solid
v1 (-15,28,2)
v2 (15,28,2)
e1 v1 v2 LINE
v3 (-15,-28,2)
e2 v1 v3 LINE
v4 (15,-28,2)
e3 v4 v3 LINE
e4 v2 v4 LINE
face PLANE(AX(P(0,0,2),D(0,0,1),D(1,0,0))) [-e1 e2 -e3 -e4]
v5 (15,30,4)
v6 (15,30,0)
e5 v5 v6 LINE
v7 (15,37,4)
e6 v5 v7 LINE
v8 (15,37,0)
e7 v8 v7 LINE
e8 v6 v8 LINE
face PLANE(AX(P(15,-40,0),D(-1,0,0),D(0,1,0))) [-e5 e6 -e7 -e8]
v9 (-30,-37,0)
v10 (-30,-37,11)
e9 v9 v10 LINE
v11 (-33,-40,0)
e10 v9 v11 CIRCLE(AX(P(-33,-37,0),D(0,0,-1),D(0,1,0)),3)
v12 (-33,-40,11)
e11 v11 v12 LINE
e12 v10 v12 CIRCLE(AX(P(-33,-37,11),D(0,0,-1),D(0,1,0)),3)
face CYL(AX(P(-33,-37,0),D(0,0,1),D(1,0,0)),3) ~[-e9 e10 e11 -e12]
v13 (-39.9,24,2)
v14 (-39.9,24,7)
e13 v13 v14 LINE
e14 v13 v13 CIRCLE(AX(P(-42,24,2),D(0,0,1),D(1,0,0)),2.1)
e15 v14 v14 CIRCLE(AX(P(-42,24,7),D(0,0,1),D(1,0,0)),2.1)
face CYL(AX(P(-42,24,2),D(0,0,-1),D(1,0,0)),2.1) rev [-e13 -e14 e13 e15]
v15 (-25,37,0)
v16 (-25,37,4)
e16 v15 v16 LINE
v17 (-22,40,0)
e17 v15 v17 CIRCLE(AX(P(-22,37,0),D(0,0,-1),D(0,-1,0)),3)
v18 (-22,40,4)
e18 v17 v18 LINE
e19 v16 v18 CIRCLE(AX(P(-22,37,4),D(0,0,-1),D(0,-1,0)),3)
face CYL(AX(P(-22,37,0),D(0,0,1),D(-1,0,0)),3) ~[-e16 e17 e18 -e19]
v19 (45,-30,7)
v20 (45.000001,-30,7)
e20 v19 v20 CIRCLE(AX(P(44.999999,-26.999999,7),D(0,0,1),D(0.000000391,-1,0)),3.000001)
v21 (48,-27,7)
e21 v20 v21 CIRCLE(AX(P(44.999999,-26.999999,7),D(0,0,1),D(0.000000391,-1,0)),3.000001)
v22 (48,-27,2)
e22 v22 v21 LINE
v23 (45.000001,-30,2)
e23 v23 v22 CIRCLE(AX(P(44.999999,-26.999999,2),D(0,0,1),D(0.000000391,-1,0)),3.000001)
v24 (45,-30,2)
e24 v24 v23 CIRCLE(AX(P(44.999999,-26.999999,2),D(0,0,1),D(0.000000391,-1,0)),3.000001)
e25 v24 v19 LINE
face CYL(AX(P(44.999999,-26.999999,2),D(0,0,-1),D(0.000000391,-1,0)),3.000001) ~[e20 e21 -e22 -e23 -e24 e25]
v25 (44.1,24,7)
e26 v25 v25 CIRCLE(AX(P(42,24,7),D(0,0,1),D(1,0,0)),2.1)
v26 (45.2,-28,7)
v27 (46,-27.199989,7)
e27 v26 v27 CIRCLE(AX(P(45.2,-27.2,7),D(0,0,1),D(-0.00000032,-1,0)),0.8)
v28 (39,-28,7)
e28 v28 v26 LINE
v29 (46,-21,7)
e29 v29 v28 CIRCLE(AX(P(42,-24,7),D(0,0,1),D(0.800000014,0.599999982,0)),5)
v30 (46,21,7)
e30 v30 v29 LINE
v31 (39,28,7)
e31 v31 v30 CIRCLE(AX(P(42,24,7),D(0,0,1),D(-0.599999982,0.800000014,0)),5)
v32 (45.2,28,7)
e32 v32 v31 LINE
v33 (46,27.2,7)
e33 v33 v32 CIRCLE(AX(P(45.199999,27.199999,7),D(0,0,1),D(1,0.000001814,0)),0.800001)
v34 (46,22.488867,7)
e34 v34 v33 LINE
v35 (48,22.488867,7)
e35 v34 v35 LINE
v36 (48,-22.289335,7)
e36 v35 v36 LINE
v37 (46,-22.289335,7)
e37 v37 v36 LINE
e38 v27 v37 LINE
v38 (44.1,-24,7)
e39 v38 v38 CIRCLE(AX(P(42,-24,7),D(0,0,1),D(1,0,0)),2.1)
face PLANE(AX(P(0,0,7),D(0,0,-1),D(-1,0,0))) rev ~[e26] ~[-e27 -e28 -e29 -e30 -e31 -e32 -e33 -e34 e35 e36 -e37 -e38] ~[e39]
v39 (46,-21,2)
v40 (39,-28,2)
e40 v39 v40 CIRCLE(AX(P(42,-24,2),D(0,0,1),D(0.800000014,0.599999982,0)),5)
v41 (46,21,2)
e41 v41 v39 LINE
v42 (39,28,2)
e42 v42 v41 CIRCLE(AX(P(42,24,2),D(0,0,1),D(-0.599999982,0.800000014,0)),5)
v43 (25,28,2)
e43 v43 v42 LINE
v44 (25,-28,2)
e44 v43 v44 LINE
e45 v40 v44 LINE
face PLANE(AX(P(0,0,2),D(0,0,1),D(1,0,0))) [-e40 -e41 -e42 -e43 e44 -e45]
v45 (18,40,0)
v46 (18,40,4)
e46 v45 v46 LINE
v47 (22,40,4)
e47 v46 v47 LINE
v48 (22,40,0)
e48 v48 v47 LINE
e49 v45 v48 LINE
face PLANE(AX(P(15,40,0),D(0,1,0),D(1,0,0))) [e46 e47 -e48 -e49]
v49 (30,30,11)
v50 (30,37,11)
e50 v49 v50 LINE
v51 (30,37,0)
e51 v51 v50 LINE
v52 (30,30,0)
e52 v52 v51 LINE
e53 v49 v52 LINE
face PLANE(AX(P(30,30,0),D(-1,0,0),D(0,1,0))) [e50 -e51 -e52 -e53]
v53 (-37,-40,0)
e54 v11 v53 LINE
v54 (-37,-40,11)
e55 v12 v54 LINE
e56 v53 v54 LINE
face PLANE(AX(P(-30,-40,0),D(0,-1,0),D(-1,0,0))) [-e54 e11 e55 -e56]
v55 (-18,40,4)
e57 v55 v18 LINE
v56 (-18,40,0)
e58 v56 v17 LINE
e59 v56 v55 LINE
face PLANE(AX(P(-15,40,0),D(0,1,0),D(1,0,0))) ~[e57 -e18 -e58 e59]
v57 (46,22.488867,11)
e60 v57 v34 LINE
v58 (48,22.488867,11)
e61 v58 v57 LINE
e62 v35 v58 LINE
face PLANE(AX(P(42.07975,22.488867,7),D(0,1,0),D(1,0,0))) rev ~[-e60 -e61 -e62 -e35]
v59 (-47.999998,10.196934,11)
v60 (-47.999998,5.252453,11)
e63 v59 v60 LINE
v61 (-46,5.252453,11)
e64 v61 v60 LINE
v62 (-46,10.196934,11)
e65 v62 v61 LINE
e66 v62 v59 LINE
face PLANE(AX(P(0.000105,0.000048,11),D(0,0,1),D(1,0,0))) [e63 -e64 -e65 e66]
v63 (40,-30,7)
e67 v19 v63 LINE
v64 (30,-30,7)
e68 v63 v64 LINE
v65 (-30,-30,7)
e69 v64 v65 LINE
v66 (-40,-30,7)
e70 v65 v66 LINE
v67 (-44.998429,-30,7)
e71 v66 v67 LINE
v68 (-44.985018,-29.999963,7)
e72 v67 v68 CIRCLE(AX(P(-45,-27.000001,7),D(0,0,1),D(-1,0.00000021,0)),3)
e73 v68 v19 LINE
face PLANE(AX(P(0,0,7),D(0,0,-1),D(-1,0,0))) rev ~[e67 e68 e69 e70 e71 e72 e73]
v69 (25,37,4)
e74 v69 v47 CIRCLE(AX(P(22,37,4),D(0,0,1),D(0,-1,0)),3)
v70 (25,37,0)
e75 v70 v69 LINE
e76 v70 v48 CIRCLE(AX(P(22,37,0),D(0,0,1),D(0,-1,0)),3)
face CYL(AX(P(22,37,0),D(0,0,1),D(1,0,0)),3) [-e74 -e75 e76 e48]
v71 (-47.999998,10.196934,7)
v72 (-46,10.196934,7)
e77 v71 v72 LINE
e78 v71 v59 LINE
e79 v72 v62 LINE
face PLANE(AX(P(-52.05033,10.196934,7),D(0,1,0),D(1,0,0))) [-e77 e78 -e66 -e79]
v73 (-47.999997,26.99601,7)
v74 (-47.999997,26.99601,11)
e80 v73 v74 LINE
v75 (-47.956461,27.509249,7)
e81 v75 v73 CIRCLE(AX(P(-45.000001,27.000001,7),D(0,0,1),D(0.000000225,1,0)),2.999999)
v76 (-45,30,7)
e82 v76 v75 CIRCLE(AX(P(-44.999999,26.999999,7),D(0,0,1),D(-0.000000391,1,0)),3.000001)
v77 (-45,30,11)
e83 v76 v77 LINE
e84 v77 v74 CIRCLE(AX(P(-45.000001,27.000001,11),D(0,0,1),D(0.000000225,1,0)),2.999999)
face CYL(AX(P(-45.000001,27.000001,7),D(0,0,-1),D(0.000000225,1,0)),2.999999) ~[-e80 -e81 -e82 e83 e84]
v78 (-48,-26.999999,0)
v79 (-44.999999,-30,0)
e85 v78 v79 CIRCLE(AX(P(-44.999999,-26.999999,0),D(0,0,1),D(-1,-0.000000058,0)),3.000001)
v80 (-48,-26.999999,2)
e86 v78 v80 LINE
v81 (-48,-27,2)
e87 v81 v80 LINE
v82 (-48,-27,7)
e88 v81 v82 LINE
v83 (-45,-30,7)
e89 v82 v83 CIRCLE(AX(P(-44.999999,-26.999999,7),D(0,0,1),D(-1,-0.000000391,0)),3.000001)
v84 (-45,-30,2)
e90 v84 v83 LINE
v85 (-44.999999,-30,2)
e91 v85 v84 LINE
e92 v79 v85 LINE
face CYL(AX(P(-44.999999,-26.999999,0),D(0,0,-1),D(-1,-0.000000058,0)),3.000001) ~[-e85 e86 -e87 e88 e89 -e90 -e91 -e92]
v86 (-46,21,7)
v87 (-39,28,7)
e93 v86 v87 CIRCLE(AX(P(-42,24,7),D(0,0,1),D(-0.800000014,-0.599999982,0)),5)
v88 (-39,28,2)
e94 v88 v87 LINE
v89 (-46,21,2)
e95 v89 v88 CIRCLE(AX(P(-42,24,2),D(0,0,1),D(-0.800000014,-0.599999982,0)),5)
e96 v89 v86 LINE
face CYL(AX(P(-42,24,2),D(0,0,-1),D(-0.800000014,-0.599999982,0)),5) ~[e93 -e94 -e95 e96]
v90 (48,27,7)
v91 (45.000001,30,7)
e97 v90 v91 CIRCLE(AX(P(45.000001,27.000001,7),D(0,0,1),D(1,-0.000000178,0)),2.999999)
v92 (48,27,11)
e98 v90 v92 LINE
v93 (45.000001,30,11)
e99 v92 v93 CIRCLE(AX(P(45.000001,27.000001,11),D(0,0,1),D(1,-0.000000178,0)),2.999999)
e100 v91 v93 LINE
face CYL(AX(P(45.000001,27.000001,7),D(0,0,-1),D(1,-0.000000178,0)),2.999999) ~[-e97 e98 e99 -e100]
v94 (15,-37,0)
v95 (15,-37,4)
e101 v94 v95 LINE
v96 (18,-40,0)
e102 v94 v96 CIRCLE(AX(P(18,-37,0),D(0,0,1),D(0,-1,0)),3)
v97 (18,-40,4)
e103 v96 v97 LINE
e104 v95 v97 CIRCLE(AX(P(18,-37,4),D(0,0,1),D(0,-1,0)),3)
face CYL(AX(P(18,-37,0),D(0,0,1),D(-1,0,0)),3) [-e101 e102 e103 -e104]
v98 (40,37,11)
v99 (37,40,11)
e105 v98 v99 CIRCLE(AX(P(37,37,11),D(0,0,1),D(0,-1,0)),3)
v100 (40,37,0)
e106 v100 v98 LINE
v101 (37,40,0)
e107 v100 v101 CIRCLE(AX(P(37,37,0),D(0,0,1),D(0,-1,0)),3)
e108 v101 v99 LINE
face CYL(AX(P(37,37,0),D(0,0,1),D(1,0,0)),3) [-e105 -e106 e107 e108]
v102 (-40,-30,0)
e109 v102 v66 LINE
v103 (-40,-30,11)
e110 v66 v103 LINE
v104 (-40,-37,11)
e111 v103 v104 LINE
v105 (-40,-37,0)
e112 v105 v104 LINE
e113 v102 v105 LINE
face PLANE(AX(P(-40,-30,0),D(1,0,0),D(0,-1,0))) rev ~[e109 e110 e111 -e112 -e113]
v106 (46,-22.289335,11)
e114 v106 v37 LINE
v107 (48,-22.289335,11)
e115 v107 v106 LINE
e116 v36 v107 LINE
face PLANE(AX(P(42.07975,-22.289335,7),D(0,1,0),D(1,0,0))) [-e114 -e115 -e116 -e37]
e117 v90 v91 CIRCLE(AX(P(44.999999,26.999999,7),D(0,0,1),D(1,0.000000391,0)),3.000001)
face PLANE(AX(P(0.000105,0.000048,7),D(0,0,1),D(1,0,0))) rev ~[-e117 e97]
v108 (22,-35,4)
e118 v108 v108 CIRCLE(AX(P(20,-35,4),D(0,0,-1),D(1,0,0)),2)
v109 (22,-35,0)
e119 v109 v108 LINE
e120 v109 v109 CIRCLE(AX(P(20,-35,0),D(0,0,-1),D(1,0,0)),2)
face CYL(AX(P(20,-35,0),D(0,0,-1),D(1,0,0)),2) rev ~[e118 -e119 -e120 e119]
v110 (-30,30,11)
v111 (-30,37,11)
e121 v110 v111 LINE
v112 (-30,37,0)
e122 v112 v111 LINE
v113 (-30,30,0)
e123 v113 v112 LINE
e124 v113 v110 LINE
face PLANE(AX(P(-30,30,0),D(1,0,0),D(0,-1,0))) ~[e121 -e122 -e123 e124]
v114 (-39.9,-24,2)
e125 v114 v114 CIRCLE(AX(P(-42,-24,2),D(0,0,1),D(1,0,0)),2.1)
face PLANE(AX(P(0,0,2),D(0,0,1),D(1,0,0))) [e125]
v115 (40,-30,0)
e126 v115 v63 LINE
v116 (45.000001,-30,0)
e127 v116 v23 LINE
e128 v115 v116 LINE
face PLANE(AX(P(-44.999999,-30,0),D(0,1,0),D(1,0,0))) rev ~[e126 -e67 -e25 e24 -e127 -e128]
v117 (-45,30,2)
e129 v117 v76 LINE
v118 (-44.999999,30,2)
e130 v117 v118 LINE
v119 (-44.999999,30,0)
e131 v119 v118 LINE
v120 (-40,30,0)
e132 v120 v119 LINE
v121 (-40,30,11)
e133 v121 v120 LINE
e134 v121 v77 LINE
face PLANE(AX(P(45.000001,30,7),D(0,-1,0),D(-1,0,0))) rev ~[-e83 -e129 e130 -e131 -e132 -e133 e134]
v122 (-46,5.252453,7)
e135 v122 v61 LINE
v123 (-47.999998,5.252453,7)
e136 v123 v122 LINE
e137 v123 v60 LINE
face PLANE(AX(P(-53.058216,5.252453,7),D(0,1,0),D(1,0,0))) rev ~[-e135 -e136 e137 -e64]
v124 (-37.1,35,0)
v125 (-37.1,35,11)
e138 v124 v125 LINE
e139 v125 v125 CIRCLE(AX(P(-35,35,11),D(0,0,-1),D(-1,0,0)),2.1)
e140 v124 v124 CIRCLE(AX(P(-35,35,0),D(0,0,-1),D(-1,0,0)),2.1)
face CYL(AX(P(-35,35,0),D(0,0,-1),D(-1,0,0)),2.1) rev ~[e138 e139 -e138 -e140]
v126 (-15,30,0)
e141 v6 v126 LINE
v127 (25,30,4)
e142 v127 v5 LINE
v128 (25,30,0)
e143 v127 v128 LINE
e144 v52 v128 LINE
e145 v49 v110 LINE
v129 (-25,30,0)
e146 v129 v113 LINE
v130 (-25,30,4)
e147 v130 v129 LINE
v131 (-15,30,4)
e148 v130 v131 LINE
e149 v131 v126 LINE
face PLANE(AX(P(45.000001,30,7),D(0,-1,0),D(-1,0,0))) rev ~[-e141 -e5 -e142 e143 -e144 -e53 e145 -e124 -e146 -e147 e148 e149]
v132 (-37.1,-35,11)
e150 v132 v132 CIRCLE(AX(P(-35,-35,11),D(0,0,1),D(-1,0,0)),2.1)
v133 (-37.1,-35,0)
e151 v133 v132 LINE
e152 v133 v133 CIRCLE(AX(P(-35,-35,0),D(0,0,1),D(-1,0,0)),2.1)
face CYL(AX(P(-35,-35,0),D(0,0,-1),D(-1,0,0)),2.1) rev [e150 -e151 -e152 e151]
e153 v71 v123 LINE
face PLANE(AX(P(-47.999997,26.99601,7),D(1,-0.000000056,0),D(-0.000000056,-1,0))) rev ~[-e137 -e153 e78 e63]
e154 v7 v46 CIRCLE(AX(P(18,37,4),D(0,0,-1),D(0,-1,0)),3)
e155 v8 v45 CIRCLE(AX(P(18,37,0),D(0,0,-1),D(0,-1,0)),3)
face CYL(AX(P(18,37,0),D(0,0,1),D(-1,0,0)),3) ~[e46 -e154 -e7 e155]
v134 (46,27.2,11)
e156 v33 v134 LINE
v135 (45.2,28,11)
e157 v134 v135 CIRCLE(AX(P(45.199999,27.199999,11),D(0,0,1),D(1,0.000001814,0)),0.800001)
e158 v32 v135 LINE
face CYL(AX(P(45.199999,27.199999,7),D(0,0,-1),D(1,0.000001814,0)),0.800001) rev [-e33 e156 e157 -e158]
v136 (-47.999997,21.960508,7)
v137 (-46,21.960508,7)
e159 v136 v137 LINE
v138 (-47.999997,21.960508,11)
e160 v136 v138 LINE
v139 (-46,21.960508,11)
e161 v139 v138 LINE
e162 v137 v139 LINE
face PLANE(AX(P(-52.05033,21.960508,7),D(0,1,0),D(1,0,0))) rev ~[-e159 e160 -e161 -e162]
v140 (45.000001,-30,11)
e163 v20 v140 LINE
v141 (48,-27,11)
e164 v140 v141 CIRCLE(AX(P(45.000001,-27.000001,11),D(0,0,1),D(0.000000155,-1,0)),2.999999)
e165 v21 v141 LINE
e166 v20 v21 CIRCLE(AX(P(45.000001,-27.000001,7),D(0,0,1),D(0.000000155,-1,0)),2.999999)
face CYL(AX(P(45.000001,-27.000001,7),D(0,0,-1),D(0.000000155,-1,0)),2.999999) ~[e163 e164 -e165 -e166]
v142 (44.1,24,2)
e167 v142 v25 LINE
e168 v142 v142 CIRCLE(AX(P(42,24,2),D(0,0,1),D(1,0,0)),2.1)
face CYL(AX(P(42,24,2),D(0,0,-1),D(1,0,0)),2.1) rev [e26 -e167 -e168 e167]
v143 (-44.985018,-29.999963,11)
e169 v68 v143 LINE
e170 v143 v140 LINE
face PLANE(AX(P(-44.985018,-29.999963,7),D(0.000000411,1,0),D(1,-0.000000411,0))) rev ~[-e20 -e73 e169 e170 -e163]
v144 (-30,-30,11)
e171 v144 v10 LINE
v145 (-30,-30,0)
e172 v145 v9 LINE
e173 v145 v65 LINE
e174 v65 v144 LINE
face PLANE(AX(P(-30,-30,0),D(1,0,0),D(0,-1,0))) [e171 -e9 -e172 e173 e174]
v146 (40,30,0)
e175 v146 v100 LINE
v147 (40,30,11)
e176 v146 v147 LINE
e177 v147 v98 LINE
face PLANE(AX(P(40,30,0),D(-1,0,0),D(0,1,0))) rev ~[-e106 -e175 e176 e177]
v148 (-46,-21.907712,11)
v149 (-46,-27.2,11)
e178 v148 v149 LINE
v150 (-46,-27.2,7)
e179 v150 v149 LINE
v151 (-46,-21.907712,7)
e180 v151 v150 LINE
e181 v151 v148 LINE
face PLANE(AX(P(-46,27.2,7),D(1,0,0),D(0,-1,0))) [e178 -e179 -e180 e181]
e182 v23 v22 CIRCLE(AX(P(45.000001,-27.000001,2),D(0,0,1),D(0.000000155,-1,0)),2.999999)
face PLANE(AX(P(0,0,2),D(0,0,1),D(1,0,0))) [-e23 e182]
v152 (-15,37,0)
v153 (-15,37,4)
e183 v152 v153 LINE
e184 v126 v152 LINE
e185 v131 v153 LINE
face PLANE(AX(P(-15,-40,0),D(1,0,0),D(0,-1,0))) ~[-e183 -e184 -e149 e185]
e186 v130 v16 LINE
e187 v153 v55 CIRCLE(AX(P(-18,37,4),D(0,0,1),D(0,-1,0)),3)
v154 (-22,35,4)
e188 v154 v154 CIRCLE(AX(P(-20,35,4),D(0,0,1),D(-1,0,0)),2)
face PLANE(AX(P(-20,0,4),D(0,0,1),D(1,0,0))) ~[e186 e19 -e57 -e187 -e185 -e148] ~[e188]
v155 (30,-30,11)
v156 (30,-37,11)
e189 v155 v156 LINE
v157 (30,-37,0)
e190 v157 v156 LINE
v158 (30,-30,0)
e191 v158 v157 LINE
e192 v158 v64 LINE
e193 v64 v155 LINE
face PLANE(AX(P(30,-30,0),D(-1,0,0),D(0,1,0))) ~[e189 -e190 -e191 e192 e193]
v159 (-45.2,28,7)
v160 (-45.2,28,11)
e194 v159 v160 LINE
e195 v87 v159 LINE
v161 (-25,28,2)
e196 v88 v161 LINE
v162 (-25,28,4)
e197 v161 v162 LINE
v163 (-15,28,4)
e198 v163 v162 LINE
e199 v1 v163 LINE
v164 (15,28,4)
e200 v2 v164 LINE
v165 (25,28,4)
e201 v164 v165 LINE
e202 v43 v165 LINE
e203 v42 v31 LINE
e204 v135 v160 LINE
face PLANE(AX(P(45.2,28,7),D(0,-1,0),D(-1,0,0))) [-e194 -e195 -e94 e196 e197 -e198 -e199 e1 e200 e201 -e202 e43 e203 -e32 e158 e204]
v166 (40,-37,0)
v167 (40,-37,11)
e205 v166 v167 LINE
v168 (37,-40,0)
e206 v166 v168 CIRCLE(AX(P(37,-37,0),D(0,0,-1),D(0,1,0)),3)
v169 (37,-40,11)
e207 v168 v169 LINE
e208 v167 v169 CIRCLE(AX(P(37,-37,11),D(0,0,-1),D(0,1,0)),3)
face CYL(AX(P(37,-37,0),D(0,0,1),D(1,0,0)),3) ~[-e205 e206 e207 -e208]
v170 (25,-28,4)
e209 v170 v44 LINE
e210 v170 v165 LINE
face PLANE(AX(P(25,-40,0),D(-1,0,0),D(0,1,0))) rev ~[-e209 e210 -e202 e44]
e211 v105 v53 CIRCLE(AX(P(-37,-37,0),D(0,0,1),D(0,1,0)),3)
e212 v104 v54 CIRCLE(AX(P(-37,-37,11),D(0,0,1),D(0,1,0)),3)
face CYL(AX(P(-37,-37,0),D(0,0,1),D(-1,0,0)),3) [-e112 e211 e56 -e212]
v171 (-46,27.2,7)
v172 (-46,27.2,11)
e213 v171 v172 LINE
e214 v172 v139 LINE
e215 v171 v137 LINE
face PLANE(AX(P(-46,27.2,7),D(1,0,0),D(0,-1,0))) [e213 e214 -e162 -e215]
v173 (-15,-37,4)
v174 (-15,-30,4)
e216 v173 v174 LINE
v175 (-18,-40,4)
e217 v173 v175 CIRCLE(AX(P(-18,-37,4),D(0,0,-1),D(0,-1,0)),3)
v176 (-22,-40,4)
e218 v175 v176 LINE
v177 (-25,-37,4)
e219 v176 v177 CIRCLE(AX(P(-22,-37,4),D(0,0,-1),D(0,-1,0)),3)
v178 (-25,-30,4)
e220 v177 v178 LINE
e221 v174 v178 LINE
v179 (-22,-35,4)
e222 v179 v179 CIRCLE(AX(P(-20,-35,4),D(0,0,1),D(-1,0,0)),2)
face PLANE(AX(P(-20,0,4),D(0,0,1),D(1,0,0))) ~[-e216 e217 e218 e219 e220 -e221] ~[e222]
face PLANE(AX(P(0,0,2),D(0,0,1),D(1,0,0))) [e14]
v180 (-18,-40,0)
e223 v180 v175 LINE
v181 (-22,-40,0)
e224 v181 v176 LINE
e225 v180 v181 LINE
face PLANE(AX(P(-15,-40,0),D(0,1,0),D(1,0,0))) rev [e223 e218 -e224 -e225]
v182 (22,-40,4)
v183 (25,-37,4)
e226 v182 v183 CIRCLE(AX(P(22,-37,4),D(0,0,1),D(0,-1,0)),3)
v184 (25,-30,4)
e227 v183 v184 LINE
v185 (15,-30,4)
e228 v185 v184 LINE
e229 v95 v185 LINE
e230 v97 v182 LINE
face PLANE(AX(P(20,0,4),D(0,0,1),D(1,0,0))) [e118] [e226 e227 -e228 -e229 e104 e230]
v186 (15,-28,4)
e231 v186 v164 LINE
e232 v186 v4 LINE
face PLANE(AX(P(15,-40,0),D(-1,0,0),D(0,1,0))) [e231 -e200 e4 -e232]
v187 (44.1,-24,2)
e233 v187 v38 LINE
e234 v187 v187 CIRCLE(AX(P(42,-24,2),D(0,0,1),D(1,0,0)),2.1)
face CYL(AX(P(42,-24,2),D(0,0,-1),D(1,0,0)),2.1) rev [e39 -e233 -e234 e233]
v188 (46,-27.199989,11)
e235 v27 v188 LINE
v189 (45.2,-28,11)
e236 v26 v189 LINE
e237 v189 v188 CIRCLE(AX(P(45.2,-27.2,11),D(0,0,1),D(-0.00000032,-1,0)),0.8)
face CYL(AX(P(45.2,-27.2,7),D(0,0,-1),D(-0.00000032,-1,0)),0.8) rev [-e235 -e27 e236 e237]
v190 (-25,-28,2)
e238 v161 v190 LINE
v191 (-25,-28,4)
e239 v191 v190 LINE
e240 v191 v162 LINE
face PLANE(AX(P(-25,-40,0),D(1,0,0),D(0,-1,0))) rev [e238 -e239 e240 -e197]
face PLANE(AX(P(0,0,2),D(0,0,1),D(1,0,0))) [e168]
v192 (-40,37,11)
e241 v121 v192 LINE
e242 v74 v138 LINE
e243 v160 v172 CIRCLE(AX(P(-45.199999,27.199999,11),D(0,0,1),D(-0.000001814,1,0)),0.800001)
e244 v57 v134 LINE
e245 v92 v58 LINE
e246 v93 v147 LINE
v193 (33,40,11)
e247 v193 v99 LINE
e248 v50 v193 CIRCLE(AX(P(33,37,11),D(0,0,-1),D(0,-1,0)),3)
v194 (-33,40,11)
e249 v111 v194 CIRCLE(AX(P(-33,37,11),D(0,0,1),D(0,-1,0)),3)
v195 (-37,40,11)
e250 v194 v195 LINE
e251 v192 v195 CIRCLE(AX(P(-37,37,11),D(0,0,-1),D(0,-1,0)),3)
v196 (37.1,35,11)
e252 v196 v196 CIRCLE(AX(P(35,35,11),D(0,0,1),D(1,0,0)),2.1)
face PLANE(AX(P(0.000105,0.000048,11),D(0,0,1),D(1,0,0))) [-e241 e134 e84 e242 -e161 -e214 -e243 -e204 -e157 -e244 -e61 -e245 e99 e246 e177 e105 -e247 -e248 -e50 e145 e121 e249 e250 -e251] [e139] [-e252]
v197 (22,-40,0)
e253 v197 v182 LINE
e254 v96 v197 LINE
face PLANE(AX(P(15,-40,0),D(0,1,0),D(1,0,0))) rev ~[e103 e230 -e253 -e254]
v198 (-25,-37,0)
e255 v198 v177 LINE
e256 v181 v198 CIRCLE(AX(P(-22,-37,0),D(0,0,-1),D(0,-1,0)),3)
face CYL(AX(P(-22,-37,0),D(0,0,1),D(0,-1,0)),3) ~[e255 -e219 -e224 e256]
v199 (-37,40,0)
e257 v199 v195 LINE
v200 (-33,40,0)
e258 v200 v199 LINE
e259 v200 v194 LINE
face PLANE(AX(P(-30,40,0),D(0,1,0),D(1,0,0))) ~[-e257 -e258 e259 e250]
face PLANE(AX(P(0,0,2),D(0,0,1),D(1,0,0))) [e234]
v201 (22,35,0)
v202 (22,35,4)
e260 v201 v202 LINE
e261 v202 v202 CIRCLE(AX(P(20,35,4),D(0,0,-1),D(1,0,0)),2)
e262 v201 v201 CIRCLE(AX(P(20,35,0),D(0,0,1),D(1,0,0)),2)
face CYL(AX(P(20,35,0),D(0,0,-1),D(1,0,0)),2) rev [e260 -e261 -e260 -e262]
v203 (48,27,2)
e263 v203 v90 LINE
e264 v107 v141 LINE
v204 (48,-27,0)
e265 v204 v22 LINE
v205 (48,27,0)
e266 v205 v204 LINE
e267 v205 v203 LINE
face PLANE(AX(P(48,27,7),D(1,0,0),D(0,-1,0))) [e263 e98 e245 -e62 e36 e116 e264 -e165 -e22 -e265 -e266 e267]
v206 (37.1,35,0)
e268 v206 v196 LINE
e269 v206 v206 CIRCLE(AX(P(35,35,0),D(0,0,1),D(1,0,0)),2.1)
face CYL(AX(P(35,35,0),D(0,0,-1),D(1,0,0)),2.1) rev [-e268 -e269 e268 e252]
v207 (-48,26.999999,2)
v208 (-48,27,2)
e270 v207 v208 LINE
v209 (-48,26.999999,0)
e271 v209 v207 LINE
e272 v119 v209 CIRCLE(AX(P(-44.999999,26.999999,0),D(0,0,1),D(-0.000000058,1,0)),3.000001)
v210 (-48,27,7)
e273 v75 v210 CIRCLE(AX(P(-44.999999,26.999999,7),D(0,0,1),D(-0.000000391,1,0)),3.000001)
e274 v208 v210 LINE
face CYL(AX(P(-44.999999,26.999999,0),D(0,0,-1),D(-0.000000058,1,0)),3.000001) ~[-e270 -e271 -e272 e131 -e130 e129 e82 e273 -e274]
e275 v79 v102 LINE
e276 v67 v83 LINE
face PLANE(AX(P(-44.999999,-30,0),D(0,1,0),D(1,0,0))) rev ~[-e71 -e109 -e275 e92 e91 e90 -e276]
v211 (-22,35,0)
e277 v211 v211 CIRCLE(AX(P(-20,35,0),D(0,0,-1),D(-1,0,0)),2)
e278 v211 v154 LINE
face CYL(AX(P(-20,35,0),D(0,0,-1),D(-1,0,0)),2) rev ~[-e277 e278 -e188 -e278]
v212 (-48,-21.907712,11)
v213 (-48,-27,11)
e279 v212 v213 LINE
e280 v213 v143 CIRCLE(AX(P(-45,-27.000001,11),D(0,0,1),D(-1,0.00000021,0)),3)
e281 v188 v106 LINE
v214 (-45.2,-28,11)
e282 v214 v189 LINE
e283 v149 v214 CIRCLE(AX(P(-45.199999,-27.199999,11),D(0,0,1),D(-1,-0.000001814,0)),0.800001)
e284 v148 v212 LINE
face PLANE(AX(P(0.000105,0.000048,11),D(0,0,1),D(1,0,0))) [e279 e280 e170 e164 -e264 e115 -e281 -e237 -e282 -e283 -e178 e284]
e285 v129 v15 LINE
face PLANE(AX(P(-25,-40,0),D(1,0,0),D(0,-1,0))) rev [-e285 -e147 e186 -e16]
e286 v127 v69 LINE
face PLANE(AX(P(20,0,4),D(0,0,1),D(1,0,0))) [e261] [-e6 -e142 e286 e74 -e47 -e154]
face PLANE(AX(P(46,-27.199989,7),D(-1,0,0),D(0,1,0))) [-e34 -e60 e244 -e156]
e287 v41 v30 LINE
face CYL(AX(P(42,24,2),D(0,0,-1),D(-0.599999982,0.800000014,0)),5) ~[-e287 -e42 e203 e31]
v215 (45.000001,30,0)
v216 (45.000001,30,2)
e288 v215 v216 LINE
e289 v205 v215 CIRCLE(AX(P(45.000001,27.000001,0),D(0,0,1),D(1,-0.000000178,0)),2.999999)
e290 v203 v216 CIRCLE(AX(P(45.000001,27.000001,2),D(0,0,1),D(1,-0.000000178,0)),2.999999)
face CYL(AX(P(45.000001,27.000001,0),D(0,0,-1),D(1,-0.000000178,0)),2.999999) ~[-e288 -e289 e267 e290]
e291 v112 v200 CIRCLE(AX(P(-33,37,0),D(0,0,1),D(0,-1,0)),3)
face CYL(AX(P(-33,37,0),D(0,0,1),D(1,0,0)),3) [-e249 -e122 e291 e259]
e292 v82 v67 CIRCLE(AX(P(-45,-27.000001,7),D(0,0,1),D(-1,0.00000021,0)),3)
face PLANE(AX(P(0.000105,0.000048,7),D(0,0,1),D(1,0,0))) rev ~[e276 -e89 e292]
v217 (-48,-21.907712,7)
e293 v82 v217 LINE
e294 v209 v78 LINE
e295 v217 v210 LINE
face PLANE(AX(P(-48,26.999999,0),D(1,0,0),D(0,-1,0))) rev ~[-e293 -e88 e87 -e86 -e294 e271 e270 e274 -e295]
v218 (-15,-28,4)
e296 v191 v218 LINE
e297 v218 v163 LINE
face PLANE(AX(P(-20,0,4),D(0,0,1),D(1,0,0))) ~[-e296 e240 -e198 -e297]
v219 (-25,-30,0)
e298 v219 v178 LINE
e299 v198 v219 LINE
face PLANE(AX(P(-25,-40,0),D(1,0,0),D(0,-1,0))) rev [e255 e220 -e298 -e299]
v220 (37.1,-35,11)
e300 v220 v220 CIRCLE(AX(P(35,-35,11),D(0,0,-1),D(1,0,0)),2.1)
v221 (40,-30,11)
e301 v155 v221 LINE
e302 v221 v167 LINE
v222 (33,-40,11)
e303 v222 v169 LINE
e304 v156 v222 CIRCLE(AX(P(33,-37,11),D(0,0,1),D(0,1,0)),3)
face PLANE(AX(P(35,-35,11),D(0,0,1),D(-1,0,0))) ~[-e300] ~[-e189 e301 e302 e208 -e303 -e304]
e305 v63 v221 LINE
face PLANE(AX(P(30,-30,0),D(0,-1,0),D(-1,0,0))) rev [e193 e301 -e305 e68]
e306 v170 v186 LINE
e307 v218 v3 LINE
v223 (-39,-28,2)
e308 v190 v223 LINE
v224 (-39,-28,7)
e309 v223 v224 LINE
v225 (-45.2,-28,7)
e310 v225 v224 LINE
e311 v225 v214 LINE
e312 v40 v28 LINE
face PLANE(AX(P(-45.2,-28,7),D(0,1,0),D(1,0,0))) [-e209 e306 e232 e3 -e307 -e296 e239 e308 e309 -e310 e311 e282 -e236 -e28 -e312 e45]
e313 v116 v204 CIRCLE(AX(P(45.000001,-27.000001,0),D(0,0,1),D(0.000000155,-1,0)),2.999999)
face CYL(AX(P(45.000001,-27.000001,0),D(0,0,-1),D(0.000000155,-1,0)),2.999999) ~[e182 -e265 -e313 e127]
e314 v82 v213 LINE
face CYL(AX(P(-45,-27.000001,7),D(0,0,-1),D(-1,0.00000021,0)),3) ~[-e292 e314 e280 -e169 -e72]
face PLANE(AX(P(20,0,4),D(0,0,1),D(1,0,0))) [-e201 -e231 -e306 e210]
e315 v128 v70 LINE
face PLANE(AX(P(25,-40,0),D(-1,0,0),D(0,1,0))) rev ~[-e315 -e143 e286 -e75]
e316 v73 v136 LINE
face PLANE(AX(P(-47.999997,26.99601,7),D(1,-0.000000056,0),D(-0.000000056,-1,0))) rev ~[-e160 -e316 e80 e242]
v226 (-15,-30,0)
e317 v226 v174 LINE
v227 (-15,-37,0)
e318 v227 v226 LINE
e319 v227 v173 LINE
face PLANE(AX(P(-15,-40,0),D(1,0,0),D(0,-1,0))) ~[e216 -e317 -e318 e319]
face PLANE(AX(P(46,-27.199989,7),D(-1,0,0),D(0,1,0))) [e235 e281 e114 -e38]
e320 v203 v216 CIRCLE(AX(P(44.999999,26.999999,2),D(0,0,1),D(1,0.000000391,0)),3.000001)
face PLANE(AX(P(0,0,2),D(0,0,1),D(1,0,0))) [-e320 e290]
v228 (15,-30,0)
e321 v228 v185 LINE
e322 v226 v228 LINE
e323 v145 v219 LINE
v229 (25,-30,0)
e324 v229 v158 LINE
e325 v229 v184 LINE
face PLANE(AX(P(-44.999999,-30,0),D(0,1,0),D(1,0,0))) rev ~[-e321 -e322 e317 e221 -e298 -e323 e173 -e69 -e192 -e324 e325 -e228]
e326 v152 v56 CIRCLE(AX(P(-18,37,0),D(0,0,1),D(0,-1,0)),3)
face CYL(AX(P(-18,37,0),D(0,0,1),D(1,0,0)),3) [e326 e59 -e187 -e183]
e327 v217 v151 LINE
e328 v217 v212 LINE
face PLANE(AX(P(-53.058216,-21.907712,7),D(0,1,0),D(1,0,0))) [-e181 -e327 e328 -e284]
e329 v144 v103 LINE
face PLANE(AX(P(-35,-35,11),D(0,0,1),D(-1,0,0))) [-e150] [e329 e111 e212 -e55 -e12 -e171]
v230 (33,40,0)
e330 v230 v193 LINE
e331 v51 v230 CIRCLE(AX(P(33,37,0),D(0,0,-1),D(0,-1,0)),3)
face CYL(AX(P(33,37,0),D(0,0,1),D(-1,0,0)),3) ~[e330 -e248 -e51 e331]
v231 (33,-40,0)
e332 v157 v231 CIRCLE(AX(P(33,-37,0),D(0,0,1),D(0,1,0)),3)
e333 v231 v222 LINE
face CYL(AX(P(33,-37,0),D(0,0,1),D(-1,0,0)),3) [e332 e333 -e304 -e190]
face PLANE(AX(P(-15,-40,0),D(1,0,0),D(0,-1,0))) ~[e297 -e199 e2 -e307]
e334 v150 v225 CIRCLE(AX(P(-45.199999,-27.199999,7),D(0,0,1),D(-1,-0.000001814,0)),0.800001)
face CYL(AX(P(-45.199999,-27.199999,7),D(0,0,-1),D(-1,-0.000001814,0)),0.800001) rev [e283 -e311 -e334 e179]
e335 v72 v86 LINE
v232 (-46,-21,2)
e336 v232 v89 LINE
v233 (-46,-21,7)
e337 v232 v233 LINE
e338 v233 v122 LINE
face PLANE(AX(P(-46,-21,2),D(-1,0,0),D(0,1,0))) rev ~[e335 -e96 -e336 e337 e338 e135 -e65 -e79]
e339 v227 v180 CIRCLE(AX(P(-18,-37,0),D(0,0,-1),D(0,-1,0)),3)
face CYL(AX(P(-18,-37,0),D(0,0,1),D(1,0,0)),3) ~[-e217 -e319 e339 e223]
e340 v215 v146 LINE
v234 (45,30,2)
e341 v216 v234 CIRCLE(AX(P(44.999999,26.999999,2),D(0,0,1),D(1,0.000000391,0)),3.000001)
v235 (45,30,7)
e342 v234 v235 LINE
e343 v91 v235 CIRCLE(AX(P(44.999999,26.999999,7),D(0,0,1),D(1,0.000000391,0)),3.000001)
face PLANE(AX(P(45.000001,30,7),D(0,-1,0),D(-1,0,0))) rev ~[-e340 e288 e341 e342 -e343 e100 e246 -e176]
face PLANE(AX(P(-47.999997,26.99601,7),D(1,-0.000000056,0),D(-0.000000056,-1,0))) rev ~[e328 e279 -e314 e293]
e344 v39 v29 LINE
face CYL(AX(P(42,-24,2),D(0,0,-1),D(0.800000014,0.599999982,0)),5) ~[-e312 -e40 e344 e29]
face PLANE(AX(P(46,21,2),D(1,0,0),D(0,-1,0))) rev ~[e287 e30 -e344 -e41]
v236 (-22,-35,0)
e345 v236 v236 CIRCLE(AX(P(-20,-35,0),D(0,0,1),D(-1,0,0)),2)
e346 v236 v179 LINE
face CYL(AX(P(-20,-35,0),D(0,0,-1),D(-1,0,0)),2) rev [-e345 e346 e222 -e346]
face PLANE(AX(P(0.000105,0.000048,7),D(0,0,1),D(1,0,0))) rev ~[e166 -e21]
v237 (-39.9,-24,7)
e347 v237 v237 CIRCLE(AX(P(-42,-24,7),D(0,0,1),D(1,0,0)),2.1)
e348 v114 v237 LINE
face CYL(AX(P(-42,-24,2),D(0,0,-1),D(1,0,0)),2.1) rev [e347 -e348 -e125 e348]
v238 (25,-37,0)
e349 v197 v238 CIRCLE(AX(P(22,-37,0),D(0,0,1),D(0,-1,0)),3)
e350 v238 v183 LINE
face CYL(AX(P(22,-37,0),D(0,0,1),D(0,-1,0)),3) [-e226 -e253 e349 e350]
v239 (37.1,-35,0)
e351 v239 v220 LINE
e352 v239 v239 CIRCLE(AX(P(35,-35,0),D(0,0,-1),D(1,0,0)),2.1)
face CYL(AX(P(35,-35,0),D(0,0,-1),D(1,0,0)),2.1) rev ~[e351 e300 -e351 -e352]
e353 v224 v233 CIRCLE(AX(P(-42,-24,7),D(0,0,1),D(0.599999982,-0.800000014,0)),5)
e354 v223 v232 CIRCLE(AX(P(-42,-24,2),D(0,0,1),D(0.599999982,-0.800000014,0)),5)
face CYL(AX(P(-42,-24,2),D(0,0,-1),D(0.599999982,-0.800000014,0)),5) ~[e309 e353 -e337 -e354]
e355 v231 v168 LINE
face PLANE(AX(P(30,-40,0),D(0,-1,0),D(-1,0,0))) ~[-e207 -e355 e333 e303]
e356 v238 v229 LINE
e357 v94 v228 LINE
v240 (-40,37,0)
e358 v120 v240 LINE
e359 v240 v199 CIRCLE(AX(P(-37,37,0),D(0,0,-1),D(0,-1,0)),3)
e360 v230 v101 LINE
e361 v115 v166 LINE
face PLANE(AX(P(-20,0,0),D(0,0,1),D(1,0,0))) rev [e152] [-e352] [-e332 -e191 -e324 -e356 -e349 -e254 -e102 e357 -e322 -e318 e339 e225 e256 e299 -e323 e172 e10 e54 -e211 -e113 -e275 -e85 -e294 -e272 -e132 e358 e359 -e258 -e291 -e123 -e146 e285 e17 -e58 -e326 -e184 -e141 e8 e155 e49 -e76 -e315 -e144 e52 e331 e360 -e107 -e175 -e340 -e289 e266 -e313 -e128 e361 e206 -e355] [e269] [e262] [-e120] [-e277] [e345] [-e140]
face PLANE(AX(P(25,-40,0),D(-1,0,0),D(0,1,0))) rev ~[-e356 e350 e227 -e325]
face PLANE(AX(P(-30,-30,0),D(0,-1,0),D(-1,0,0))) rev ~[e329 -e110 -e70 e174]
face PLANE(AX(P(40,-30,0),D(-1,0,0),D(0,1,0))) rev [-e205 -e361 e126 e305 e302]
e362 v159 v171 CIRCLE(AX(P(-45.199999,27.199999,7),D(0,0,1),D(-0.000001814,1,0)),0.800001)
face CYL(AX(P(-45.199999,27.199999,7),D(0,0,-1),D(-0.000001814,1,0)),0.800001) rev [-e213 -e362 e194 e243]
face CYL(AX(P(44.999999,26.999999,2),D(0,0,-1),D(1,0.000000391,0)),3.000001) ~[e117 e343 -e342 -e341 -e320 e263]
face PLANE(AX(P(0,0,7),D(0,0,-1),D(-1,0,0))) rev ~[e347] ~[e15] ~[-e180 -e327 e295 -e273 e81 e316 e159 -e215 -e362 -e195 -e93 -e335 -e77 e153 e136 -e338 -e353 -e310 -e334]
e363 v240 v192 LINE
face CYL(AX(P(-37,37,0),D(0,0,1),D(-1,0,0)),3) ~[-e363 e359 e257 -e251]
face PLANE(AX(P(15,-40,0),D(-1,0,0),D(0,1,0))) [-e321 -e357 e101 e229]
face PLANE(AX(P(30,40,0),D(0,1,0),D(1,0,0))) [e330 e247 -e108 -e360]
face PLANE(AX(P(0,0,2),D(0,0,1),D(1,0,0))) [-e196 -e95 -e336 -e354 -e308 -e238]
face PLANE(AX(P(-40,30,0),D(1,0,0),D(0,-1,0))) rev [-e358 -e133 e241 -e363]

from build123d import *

# Parameters (mm, degrees)
EXTRUDE001_DEPTH  = 2
CYLINDER001_R     = 2.1
CYLINDER001_DEPTH = 11
BOX001_W          = 10
BOX001_H          = 10
BOX001_DEPTH      = 11
FILLET001_R       = 3
CYLINDER_R        = 2
CYLINDER_DEPTH    = 10
BOX_W             = 10
BOX_H             = 80
BOX_DEPTH         = 4
FILLET_R          = 3
SKETCH003_W       = 9.77459
SKETCH003_H       = 44.778202
SKETCH003_W_2     = 16.775318
SKETCH003_H_2     = 11.763574
SKETCH003_W_3     = 22.095015
SKETCH003_H_3     = 27.160165
EXTRUDE003_DEPTH  = 10
EXTRUDE002_DEPTH  = 4
SKETCH_R          = 2.1
EXTRUDE_DEPTH     = 5


with BuildPart() as extrude001:
    # Sketch001 → Extrude001 (new body)
    with BuildSketch(Plane.XY):
        with BuildLine():
            Line((-48, 26.999999), (-48, -26.999999))
            ThreePointArc((-48, -26.999999), (-47.12132, -29.12132), (-44.999999, -30))
            Line((-44.999999, -30), (45.000001, -30))
            ThreePointArc((45.000001, -30), (47.121321, -29.12132), (48, -27))
            Line((48, 27), (48, -27))
            ThreePointArc((48, 27), (47.121321, 29.12132), (45.000001, 30))
            Line((45.000001, 30), (-44.999999, 30))
            ThreePointArc((-44.999999, 30), (-47.12132, 29.12132), (-48, 26.999999))
        make_face()
    extrude(amount=EXTRUDE001_DEPTH)


with BuildPart() as insert_hole:
    # Cylinder001 → Cylinder001 (new body)
    with BuildSketch(Plane.XY):
        Circle(CYLINDER001_R)
    extrude(amount=CYLINDER001_DEPTH)


with BuildPart() as compound:
    # Box001 → Box001 (new body)
    with BuildSketch(Plane(origin=(-5, -5, 0), x_dir=(1, 0, 0), z_dir=(0, 0, 1))):
        with Locations((5, 5)):
            Rectangle(BOX001_W, BOX001_H)
    extrude(amount=BOX001_DEPTH)

    # Fillet001
    fillet001_edges = [compound.edges().sort_by_distance(p)[0] for p in [
        (-5, 5, 5.5),
        (5, 5, 5.5),
    ]]
    fillet(fillet001_edges, radius=FILLET001_R)

    # Cut001: cut insert hole
    add(insert_hole.part, mode=Mode.SUBTRACT)


with BuildPart() as compound_1:
    # Compound placement: moved
    add(compound.part.moved(Location((0, 35, 0))))


with BuildPart() as fusion001:
    # Part__Mirroring002: instance of Compound
    add(compound_1.part.mirror(Plane(origin=(0, 0, 0), x_dir=(1, 0, 0), z_dir=(0, 1, 0))))

    # Fusion001: union Compound
    add(compound_1.part)


with BuildPart() as fusion001_1:
    # Fusion001 placement: moved
    add(fusion001.part.moved(Location((35, 0, 0))))


with BuildPart() as part_mirroring003:
    # Part__Mirroring003: instance of Fusion001
    add(fusion001_1.part.mirror(Plane(origin=(0, 0, 0), x_dir=(0, -1, 0), z_dir=(1, 0, 0))))


with BuildPart() as insert_hole_fusion:
    # Fusion002 base: copy of Fusion001
    add(fusion001_1.part)

    # Fusion002: union Part__Mirroring003
    add(part_mirroring003.part)


with BuildPart() as bolt_hole:
    # Cylinder → Cylinder (new body)
    with BuildSketch(Plane(origin=(0, 35, 0), x_dir=(1, 0, 0), z_dir=(0, 0, 1))):
        Circle(CYLINDER_R)
    extrude(amount=CYLINDER_DEPTH)


with BuildPart() as hole_fusion:
    # Part__Mirroring: instance of bolt hole
    add(bolt_hole.part.mirror(Plane(origin=(0, 0, 0), x_dir=(1, 0, 0), z_dir=(0, 1, 0))))

    # Fusion: union bolt hole
    add(bolt_hole.part)


with BuildPart() as bolt_plate_cut:
    # Box → Box (new body)
    with BuildSketch(Plane(origin=(-5, -40, 0), x_dir=(1, 0, 0), z_dir=(0, 0, 1))):
        with Locations((5, 40)):
            Rectangle(BOX_W, BOX_H)
    extrude(amount=BOX_DEPTH)

    # Fillet
    fillet_edges = [bolt_plate_cut.edges().sort_by_distance(p)[0] for p in [
        (-5, -40, 2),
        (-5, 40, 2),
        (5, -40, 2),
        (5, 40, 2),
    ]]
    fillet(fillet_edges, radius=FILLET_R)

    # Cut: cut hole fusion
    add(hole_fusion.part, mode=Mode.SUBTRACT)


with BuildPart() as bolt_plate_cut_1:
    # Cut placement: moved
    add(bolt_plate_cut.part.moved(Location((20, 0, 0))))


with BuildPart() as part_mirroring001:
    # Part__Mirroring001: instance of bolt plate cut
    add(bolt_plate_cut_1.part.mirror(Plane(origin=(0, 0, 0), x_dir=(0, -1, 0), z_dir=(1, 0, 0))))


with BuildPart() as bole_plates_fusion:
    # Fusion003 base: copy of bolt plate cut
    add(bolt_plate_cut_1.part)

    # Fusion003: union Part__Mirroring001
    add(part_mirroring001.part)


with BuildPart() as holes_extrude003:
    # Sketch003 → Extrude003 (new body)
    with BuildSketch(Plane.XY):
        with Locations((46.967045, 0.099766)):
            Rectangle(SKETCH003_W, SKETCH003_H)
        with Locations((-43.662671, 16.078721)):
            Rectangle(SKETCH003_W_2, SKETCH003_H_2)
        with Locations((-42.010708, -8.32763)):
            Rectangle(SKETCH003_W_3, SKETCH003_H_3)
    extrude(amount=EXTRUDE003_DEPTH)


with BuildPart() as holes_extrude003_1:
    # Extrude003 placement: moved
    add(holes_extrude003.part.moved(Location((0, 0, 7))))


with BuildPart() as cut002:
    # Sketch002 → Extrude002 (new body)
    with BuildSketch(Plane.XY):
        with BuildLine():
            Line((-47.999997, 26.99601), (-48, -27))
            ThreePointArc((-48, -27), (-47.116017, -29.126611), (-44.985018, -29.999963))
            Line((-44.985018, -29.999963), (45.000001, -30))
            ThreePointArc((45.000001, -30), (47.121321, -29.12132), (48, -27))
            Line((48, 27), (48, -27))
            ThreePointArc((48, 27), (47.121321, 29.12132), (45.000001, 30))
            Line((45.000001, 30), (-45, 30))
            ThreePointArc((-45, 30), (-47.122731, 29.119909), (-47.999997, 26.99601))
        make_face()
        with BuildLine():
            Line((-45.2, -28), (45.2, -28))
            ThreePointArc((45.2, -28), (45.765689, -27.765682), (46, -27.199989))
            Line((46, -27.199989), (46, 27.2))
            ThreePointArc((46, 27.2), (45.765685, 27.765685), (45.2, 28))
            Line((45.2, 28), (-45.2, 28))
            ThreePointArc((-45.2, 28), (-45.765685, 27.765685), (-46, 27.2))
            Line((-46, 27.2), (-46, -27.2))
            ThreePointArc((-46, -27.2), (-45.765685, -27.765685), (-45.2, -28))
        make_face(mode=Mode.SUBTRACT)
    extrude(amount=EXTRUDE002_DEPTH)


with BuildPart() as cut002_1:
    # Extrude002 placement: moved
    add(cut002.part.moved(Location((0, 0, 7))))

    # Cut002: cut holes Extrude003
    add(holes_extrude003_1.part, mode=Mode.SUBTRACT)


with BuildPart() as bottom_part:
    # Sketch → Extrude (new body)
    with BuildSketch(Plane.XY):
        with BuildLine():
            Line((-45, 30), (45, 30))
            ThreePointArc((48, 27), (47.12132, 29.12132), (45, 30))
            Line((48, 27), (48, -27))
            ThreePointArc((45, -30), (47.12132, -29.12132), (48, -27))
            Line((45, -30), (-45, -30))
            ThreePointArc((-48, -27), (-47.12132, -29.12132), (-45, -30))
            Line((-48, -27), (-48, 27))
            ThreePointArc((-45, 30), (-47.12132, 29.12132), (-48, 27))
        make_face()
        with Locations((-42, 24)):
            Circle(SKETCH_R, mode=Mode.SUBTRACT)
        with Locations((42, 24)):
            Circle(SKETCH_R, mode=Mode.SUBTRACT)
        with Locations((42, -24)):
            Circle(SKETCH_R, mode=Mode.SUBTRACT)
        with Locations((-42, -24)):
            Circle(SKETCH_R, mode=Mode.SUBTRACT)
        with BuildLine():
            ThreePointArc((-46, 21), (-38.464466, 20.464466), (-39, 28))
            Line((-39, 28), (39, 28))
            ThreePointArc((39, 28), (38.464466, 20.464466), (46, 21))
            Line((46, 21), (46, -21))
            ThreePointArc((46, -21), (38.464466, -20.464466), (39, -28))
            Line((39, -28), (-39, -28))
            ThreePointArc((-39, -28), (-38.464466, -20.464466), (-46, -21))
            Line((-46, -21), (-46, 21))
        make_face(mode=Mode.SUBTRACT)
    extrude(amount=EXTRUDE_DEPTH)


with BuildPart() as bottom_part_1:
    # Extrude placement: moved
    add(bottom_part.part.moved(Location((0, 0, 2))))

    # Fusion004: union Extrude001, insert hole fusion, bole plates fusion, Cut002
    add(extrude001.part)
    add(insert_hole_fusion.part)
    add(bole_plates_fusion.part)
    add(cut002_1.part)


solid = bottom_part_1.part
